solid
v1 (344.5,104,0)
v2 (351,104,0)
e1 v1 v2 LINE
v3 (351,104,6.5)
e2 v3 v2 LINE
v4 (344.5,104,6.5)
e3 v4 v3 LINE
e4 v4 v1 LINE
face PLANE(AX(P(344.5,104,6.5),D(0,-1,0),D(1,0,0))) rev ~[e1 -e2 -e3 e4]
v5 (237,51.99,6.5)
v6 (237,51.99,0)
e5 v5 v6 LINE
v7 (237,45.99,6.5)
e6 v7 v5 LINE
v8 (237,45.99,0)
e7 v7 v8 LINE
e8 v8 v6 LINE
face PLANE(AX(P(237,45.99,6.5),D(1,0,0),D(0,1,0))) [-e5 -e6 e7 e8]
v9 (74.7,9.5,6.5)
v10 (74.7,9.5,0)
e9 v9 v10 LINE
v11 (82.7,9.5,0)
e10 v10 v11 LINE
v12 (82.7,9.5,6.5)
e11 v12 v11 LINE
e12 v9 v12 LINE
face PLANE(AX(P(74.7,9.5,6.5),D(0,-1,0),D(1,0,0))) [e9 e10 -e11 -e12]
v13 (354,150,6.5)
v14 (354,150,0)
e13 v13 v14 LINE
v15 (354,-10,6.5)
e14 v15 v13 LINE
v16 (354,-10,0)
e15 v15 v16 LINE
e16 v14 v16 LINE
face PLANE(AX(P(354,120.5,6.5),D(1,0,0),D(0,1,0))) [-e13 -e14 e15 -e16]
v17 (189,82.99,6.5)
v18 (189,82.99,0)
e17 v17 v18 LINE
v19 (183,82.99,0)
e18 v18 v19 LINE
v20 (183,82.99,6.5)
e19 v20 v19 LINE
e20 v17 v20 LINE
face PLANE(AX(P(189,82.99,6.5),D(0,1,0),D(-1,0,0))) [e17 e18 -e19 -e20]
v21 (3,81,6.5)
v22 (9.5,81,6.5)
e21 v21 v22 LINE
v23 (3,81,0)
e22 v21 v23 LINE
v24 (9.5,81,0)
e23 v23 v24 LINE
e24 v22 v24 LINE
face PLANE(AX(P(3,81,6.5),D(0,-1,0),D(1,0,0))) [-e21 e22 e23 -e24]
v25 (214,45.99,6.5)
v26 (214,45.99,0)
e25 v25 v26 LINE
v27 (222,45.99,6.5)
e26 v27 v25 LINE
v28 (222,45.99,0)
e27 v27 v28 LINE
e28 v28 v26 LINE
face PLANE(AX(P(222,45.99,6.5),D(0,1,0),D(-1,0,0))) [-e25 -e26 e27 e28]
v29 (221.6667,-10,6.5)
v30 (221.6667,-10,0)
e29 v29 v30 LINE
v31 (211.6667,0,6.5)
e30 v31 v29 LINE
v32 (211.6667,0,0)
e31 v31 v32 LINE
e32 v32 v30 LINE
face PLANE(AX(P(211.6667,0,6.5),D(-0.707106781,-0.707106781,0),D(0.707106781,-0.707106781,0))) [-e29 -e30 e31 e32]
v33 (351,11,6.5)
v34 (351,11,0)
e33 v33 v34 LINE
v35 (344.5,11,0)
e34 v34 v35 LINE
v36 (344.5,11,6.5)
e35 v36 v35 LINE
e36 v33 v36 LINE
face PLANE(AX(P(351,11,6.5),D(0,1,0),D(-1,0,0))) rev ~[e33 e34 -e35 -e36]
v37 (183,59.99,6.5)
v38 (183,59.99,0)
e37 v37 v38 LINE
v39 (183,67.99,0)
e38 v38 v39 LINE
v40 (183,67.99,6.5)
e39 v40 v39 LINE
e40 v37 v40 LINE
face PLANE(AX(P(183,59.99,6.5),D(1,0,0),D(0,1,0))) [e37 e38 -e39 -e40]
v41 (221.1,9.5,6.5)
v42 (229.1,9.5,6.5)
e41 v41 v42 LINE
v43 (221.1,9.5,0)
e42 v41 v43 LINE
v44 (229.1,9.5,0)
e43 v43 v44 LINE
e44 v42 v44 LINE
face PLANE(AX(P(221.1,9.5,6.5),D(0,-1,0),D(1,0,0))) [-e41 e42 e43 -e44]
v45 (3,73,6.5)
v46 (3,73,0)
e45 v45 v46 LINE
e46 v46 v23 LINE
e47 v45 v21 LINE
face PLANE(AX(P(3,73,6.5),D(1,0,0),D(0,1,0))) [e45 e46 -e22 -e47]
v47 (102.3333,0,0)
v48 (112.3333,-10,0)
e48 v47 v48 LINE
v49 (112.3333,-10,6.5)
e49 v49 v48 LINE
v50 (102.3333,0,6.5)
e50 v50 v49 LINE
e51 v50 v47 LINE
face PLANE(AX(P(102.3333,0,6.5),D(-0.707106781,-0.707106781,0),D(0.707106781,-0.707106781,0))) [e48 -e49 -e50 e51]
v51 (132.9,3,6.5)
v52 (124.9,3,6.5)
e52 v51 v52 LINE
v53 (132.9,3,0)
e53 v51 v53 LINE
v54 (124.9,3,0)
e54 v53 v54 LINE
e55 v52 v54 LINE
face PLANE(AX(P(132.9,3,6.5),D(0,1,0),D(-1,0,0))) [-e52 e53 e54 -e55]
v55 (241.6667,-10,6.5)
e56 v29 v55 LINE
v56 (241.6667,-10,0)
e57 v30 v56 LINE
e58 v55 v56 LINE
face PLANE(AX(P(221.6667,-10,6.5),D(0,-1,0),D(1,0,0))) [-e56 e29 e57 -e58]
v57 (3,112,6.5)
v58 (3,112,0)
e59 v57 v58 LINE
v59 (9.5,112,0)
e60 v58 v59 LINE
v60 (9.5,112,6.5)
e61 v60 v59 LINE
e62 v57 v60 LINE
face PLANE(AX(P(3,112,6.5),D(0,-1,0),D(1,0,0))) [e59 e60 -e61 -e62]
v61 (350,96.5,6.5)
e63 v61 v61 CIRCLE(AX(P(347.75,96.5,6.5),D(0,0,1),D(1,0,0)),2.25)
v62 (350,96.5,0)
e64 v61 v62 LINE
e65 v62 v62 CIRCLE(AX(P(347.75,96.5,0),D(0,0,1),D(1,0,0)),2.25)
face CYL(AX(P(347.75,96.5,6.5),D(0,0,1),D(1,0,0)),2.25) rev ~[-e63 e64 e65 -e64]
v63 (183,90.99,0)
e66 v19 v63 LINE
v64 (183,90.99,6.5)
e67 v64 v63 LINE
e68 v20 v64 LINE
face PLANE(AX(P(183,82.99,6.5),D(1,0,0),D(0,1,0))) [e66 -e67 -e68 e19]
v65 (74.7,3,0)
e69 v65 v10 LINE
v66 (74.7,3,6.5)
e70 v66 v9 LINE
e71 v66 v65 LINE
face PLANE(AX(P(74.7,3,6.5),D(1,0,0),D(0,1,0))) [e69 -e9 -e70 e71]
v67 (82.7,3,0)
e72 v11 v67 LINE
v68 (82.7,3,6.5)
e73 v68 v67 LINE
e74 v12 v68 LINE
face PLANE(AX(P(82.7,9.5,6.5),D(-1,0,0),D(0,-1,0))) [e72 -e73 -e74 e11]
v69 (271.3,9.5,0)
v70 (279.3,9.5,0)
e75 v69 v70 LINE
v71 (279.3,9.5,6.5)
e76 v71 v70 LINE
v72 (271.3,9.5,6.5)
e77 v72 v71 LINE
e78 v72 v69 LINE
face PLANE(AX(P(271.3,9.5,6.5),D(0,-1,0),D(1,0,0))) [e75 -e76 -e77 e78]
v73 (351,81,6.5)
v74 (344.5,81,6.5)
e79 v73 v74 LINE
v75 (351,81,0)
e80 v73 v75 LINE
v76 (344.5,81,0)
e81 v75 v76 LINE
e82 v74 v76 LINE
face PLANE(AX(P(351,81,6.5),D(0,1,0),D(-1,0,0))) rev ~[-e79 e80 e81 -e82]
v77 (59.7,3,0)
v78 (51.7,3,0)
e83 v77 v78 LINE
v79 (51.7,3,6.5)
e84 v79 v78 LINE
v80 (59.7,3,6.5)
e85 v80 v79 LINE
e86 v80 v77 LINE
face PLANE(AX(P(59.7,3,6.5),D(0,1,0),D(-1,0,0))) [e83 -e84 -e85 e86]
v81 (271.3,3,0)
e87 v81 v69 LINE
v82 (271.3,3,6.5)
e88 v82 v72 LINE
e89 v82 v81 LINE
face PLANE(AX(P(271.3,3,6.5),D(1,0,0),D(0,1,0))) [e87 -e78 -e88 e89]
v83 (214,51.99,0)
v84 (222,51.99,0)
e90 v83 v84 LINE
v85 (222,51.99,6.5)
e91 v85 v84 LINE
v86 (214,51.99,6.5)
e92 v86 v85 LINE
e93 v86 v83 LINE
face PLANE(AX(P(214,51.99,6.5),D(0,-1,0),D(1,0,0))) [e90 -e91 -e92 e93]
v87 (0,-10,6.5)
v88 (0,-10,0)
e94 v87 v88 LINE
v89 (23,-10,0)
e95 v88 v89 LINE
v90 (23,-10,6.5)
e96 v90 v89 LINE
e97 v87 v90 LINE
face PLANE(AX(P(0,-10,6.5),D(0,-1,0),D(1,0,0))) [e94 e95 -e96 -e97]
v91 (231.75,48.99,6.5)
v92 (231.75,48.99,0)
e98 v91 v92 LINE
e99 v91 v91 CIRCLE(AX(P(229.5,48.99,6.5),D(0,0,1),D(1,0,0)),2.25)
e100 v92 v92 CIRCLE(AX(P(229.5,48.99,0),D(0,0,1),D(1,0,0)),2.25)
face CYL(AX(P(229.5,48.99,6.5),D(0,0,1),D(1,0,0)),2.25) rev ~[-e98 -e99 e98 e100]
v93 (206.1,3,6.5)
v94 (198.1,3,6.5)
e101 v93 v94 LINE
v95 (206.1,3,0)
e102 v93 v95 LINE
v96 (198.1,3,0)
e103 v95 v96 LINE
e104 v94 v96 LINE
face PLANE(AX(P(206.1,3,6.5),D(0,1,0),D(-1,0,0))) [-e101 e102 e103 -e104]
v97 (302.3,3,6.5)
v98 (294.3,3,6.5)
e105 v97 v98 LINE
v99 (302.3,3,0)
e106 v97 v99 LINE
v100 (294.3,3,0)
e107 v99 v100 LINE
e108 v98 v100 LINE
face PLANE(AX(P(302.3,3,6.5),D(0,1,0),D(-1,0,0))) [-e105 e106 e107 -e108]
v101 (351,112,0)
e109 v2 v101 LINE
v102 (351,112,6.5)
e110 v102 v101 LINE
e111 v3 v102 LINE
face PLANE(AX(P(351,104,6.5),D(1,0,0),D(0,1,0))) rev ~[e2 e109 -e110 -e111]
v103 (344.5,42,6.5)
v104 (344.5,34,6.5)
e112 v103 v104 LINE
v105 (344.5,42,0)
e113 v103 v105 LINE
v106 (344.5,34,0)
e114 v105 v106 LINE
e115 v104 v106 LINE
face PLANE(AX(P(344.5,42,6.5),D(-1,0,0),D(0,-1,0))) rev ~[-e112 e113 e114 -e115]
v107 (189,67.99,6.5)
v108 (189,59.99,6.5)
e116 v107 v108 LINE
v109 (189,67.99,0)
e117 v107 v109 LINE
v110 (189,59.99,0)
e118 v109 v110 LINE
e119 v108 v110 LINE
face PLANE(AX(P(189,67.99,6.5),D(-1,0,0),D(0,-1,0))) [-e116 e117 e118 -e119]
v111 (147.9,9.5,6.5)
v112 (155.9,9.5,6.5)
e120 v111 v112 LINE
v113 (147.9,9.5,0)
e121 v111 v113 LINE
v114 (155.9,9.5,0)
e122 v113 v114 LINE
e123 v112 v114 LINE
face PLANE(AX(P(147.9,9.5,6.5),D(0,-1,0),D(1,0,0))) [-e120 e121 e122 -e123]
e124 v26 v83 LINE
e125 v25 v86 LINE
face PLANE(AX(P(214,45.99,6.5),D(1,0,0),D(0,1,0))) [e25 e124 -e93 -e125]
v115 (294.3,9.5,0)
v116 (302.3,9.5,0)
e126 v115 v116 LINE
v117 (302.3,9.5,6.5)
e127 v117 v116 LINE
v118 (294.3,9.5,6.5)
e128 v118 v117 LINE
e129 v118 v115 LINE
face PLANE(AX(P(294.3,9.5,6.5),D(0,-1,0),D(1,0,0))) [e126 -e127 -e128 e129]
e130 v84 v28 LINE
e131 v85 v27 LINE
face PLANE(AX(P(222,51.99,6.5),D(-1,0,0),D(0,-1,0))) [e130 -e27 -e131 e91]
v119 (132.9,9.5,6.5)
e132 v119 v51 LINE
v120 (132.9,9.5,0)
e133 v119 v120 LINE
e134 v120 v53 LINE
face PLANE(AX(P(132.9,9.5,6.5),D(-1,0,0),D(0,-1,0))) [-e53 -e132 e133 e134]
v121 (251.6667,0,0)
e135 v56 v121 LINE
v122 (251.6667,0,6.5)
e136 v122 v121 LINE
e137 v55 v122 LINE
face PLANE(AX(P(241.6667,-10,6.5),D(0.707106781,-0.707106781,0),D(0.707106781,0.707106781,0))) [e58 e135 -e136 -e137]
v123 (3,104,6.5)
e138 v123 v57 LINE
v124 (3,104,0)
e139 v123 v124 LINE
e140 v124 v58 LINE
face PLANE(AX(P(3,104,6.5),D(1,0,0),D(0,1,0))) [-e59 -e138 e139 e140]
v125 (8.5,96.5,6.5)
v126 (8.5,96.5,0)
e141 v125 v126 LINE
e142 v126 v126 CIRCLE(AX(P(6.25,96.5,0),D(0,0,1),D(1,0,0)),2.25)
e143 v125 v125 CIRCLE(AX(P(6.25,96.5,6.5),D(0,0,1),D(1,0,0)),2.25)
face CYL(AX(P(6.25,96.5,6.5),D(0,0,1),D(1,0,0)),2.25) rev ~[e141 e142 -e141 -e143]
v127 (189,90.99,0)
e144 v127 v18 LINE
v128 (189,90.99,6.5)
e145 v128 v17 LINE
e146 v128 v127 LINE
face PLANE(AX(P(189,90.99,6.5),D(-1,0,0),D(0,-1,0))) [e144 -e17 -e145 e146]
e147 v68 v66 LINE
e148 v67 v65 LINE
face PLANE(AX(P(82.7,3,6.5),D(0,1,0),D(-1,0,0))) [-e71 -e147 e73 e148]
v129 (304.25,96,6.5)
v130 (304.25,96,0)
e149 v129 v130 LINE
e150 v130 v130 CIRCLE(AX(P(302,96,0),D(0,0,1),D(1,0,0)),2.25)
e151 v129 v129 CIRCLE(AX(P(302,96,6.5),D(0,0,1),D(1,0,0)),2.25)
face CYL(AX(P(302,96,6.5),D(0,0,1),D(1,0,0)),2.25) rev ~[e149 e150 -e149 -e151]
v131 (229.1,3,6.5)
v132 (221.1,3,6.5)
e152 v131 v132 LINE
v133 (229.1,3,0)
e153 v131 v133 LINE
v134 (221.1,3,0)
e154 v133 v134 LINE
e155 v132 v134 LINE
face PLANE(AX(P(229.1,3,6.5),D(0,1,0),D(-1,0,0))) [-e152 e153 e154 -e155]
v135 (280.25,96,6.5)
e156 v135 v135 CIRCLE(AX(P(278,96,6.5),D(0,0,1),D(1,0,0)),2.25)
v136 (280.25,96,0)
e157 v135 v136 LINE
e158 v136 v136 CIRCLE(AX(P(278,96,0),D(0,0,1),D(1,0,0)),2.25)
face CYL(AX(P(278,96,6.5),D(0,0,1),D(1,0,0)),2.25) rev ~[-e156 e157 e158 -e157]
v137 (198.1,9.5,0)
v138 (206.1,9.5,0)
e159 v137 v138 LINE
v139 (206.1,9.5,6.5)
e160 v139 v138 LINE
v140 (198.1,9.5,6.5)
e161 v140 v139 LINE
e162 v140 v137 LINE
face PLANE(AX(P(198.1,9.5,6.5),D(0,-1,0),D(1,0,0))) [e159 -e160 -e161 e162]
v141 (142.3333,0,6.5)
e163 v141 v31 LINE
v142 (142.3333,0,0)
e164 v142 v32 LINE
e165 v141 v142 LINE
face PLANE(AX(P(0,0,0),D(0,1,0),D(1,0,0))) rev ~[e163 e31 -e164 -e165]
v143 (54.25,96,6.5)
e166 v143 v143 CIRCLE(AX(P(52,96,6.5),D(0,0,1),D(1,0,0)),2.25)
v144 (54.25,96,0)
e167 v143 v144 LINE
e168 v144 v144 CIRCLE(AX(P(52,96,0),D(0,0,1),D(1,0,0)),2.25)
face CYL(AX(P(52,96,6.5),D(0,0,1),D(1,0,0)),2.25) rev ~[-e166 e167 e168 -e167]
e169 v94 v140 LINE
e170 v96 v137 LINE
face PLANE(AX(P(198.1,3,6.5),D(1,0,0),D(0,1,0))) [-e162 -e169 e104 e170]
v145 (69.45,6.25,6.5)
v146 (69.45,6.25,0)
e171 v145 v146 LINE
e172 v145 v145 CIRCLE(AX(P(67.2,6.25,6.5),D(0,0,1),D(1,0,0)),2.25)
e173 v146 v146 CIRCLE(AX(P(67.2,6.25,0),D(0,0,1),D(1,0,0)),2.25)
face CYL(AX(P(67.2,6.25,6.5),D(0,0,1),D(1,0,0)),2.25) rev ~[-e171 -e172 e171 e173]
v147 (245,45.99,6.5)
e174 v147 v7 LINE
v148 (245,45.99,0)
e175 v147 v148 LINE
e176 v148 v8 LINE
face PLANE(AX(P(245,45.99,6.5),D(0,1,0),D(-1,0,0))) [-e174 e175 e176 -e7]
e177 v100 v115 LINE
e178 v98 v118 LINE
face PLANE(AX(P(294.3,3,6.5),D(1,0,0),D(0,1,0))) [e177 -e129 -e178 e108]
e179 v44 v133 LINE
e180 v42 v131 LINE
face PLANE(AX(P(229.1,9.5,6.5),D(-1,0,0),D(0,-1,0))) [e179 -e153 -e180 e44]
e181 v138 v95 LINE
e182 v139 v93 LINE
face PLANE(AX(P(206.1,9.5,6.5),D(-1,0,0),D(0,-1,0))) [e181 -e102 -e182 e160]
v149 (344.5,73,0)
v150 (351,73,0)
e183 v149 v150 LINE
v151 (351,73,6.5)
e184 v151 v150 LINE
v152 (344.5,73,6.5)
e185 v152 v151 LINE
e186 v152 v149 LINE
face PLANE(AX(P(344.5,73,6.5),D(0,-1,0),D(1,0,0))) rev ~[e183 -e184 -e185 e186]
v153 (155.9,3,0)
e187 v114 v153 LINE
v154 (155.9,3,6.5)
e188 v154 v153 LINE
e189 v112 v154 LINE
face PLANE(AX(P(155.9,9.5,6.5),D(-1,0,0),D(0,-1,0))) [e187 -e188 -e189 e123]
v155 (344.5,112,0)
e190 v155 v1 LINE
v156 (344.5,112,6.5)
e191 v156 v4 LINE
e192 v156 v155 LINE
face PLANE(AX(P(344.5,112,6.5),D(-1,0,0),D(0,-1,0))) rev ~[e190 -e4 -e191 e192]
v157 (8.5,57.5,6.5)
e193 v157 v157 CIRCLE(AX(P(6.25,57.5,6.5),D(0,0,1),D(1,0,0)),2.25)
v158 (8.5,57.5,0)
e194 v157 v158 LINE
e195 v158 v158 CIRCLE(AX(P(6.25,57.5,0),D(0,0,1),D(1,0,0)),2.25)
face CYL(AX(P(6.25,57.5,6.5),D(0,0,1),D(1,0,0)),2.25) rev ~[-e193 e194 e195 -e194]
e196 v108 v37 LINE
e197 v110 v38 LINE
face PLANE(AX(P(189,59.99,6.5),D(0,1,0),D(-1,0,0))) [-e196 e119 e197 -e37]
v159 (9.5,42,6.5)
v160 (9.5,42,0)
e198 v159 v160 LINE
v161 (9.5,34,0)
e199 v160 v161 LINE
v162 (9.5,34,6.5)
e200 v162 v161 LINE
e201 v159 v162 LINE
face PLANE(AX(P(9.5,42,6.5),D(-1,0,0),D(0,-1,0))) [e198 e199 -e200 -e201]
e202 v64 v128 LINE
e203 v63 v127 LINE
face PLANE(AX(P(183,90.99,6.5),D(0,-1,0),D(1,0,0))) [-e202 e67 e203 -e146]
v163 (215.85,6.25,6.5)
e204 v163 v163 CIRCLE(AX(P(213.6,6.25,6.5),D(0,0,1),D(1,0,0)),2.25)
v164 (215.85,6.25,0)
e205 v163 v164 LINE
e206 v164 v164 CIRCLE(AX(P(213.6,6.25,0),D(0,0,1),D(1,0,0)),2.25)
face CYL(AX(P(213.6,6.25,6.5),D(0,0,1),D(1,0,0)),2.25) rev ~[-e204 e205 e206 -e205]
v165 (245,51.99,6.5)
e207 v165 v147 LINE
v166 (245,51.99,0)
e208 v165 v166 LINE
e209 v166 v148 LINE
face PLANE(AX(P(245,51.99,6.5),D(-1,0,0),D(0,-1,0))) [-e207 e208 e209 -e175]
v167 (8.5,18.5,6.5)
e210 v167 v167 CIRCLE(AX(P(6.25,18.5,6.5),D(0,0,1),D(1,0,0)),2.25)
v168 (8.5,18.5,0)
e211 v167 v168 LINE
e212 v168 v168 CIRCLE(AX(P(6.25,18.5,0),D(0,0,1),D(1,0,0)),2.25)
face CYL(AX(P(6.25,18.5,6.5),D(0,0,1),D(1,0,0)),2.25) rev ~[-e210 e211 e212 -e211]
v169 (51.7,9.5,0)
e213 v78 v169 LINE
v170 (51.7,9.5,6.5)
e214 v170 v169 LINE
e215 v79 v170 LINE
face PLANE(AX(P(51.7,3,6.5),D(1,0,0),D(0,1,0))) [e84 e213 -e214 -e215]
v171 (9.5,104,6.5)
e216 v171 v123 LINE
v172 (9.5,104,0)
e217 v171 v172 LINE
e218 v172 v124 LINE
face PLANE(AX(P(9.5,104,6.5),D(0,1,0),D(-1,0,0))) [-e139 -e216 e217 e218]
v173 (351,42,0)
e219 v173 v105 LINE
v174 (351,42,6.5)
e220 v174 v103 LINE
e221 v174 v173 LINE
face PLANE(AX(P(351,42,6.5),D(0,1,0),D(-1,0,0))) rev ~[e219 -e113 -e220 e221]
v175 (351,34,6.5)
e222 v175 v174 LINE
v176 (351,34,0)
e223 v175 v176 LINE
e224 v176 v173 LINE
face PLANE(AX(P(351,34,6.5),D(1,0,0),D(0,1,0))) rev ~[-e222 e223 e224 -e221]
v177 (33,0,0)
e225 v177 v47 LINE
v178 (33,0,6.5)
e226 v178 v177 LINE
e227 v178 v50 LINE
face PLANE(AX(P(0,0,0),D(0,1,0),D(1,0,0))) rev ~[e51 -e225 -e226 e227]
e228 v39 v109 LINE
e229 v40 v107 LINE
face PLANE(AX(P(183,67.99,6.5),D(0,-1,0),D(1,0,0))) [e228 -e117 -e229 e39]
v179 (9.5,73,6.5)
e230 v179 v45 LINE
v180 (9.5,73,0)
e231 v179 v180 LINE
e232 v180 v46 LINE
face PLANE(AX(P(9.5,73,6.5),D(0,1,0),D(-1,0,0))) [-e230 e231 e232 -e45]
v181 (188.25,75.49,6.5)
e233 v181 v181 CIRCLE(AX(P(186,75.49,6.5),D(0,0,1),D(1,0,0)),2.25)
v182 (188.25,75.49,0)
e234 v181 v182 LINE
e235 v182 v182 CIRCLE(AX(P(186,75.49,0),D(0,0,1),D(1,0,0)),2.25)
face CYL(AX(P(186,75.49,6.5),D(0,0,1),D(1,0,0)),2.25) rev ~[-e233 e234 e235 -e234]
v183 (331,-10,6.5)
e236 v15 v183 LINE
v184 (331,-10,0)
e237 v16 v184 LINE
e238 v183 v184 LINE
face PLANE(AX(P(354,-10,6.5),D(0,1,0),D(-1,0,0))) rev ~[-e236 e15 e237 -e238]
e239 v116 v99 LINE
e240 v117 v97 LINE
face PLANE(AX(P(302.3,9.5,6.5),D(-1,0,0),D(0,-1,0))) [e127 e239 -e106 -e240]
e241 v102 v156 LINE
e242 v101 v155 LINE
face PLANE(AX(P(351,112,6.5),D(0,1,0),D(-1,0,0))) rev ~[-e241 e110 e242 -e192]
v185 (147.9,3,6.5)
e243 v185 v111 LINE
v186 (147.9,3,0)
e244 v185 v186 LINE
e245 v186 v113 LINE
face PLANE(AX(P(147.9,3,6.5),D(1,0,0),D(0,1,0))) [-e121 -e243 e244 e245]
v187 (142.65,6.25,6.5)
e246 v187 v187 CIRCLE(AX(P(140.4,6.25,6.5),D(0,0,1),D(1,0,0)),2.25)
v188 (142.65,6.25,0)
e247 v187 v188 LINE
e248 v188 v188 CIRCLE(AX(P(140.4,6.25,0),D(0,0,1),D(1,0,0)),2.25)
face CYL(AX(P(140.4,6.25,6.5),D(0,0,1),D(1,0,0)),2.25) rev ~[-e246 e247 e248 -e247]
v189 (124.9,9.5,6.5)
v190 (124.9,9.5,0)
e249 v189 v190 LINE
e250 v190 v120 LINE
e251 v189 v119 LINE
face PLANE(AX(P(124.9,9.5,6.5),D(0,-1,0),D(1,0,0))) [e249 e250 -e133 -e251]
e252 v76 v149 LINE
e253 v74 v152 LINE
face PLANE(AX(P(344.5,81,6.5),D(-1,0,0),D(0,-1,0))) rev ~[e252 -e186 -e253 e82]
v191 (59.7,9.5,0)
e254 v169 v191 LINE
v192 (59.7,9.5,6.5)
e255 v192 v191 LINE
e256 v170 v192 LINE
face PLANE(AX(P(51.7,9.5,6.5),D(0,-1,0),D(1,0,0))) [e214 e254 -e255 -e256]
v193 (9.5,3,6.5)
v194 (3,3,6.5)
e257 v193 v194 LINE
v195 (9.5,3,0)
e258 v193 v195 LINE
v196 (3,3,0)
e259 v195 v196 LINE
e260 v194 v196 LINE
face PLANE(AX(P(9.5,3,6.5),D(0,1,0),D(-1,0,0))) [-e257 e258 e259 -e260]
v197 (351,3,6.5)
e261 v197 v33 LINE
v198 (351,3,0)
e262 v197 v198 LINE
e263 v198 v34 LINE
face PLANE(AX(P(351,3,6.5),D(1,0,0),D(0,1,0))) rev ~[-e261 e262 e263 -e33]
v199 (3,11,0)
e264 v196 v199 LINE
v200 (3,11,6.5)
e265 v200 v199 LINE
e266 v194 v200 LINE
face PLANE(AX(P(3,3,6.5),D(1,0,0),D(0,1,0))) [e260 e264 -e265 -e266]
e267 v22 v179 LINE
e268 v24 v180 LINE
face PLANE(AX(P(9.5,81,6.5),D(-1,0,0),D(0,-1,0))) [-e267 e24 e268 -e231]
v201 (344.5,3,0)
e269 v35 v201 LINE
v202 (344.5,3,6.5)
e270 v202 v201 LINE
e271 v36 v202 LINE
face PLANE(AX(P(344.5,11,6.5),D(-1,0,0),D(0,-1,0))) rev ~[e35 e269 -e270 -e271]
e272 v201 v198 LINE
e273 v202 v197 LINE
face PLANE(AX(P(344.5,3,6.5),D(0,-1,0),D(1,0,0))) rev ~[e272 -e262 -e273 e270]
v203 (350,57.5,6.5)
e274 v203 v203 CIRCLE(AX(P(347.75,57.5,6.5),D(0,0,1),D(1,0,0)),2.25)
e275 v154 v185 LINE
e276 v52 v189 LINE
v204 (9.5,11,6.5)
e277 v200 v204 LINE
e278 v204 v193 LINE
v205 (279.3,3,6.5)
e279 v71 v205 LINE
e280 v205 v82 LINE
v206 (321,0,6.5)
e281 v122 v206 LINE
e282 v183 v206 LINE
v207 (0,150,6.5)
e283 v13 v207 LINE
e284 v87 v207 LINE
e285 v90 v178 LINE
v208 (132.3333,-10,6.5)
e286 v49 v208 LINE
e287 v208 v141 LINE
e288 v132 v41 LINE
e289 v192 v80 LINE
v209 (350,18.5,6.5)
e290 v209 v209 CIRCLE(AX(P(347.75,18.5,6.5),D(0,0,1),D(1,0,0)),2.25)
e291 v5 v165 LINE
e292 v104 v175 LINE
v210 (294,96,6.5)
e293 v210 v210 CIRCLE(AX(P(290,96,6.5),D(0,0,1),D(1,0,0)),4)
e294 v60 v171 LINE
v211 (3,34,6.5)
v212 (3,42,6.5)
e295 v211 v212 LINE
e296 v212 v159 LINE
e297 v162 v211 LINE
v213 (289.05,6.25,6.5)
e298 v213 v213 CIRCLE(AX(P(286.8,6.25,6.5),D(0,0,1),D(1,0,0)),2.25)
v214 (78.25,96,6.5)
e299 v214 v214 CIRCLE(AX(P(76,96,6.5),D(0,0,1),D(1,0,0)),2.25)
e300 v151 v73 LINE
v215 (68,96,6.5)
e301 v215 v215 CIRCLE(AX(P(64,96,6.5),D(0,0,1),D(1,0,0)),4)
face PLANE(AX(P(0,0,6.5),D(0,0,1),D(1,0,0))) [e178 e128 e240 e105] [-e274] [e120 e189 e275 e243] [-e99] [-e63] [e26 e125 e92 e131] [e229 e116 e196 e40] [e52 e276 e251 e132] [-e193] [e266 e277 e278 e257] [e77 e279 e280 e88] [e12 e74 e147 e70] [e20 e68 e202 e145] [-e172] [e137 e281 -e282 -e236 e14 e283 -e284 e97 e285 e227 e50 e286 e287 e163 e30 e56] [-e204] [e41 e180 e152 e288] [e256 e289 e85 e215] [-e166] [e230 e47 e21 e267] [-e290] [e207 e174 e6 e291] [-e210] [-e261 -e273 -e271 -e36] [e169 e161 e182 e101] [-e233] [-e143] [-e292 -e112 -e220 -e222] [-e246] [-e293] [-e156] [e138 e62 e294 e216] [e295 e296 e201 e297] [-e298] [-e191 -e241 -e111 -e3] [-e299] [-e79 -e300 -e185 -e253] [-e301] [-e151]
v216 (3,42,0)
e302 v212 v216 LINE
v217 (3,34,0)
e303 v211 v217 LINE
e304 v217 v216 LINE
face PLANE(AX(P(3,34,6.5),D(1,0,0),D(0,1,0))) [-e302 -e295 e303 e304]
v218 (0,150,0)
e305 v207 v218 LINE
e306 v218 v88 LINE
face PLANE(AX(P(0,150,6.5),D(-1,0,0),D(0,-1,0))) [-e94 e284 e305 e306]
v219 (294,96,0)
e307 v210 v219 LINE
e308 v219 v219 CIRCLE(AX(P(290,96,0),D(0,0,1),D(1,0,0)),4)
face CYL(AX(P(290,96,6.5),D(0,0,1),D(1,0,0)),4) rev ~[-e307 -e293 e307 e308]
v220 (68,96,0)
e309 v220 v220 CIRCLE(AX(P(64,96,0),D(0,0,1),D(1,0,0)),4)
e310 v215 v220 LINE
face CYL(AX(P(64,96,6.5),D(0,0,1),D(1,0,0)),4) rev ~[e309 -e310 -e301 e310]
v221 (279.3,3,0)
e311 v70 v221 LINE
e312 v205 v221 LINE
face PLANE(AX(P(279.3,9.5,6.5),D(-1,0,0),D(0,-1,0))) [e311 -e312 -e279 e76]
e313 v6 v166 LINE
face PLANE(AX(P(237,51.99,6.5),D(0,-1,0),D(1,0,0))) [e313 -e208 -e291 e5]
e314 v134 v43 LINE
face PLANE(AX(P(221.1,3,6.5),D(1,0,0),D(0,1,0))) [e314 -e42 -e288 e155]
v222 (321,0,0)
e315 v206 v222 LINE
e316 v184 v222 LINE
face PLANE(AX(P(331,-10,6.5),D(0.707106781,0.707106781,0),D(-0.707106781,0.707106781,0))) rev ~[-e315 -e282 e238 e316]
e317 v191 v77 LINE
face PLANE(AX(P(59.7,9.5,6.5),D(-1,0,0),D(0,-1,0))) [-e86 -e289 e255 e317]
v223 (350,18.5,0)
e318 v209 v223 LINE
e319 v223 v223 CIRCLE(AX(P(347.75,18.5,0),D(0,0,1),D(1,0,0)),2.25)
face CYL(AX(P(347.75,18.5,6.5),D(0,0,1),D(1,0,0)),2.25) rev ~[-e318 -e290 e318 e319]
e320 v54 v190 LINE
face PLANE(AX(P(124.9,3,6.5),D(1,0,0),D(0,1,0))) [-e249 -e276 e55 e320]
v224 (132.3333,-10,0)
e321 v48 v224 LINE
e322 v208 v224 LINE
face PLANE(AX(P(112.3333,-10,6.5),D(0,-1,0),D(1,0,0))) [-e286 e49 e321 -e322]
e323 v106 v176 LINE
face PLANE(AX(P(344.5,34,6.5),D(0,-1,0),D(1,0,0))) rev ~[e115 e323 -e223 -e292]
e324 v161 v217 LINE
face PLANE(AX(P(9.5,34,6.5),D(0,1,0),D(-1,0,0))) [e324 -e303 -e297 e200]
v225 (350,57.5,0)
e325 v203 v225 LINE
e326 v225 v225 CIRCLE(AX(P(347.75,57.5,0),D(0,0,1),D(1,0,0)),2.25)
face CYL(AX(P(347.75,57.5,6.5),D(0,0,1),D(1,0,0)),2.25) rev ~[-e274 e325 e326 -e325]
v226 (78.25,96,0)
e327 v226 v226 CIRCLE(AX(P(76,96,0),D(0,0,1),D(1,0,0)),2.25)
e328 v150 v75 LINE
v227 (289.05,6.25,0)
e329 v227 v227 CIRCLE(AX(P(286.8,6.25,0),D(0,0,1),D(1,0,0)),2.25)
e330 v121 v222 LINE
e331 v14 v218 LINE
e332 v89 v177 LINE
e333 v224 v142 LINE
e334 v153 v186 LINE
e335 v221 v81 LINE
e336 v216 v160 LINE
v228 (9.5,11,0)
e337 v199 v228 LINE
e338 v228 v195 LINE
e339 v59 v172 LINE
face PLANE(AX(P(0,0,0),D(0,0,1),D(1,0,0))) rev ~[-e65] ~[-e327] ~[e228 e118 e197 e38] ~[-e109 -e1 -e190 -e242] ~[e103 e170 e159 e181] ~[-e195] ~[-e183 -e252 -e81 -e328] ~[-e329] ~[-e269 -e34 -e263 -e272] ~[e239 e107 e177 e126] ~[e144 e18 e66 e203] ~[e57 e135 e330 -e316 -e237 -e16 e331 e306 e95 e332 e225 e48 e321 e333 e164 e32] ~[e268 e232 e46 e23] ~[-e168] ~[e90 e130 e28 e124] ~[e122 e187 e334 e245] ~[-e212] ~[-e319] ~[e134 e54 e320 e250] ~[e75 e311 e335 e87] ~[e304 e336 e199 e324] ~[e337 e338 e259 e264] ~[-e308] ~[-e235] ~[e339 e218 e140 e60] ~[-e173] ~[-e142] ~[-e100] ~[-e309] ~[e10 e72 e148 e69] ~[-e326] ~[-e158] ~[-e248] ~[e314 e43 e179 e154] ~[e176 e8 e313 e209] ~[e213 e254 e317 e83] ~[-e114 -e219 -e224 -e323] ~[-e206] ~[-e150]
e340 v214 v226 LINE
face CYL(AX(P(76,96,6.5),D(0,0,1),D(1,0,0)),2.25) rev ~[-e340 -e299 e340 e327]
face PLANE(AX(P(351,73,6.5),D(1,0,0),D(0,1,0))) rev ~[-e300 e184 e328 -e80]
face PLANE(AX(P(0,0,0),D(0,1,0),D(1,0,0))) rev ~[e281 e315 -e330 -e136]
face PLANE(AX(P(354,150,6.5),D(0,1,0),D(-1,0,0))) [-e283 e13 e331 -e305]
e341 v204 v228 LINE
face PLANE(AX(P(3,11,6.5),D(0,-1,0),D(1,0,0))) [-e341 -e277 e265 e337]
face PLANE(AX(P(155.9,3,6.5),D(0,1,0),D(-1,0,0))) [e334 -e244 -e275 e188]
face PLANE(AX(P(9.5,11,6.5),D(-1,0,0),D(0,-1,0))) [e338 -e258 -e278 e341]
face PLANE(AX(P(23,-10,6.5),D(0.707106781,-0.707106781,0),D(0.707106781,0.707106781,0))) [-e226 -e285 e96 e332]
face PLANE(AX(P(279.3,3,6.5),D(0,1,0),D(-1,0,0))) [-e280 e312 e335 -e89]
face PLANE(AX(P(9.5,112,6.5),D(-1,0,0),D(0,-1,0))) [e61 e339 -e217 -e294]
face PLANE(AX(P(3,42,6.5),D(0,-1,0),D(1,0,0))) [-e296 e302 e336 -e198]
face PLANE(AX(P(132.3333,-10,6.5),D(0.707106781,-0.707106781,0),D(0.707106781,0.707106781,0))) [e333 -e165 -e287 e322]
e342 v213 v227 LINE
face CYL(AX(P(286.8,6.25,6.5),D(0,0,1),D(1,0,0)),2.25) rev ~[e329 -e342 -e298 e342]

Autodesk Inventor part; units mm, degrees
ref_plane "YZ Plane" through (0, 0, 0) normal (1, 0, 0) x (0, 1, 0)
ref_plane "XZ Plane" through (0, 0, 0) normal (0, 1, 0) x (-1, 0, 0)
ref_plane "XY Plane" through (0, 0, 0) normal (0, 0, 1) x (1, 0, 0)
sketch "Sketch1" plane through (0, 0, 0) normal (0, 0, 1) x (1, 0, 0)
  line L0 (0, 0) -> (354, 0)
  line L1 (354, 0) -> (354, 120.5)
  line L2 (354, 120.5) -> (0, 120.5)
  line L3 (0, 120.5) -> (0, 0)
  dimension "d0" = 120.5
  dimension "d1" = 354
extrude "Extrusion1" add sketch "Sketch1" along normal blind 6.5
sketch "Sketch3" plane through (0, 0, 6.5) normal (0, 0, 1) x (1, 0, 0)
  line L0 (0, 0) -> (354, 0) projected
  line L1 (354, 120.5) -> (0, 120.5) projected
  line L2 (0, 120.5) -> (0, 0) projected
  circle A0 centre (64, 96) radius 4
  circle A1 centre (290, 96) radius 4
  line L3 (64, 96) -> (290, 96) construction
  point P0 (177, 96)
  point P1 (177, 120.5)
  dimension "d9" = 8
  dimension "d10" = 96
  dimension "d11" = 226
extrude "Extrusion3" cut sketch "Sketch3" against normal through all
sketch "Sketch4" plane through (0, 0, 6.5) normal (0, 0, 1) x (1, 0, 0)
  line L0 (0, 0) -> (354, 0) projected
  line L1 (354, 120.5) -> (0, 120.5) projected
  line L2 (0, 120.5) -> (0, 0) projected
  circle A0 centre (6.25, 18.5) radius 2.25
  circle A1 centre (6.25, 57.5) radius 2.25
  circle A2 centre (6.25, 96.5) radius 2.25
  line L3 (177, 120.5) -> (177, 0) construction
  line L4 (3, 112) -> (9.5, 112)
  line L5 (9.5, 112) -> (9.5, 104)
  line L6 (9.5, 104) -> (3, 104)
  line L7 (3, 104) -> (3, 112)
  line L8 (3, 81) -> (9.5, 81)
  line L9 (9.5, 81) -> (9.5, 73)
  line L10 (9.5, 73) -> (3, 73)
  line L11 (3, 73) -> (3, 81)
  line L12 (3, 42) -> (9.5, 42)
  line L13 (9.5, 42) -> (9.5, 34)
  line L14 (9.5, 34) -> (3, 34)
  line L15 (3, 34) -> (3, 42)
  line L16 (3, 11) -> (9.5, 11)
  line L17 (9.5, 11) -> (9.5, 3)
  line L18 (9.5, 3) -> (3, 3)
  line L19 (3, 3) -> (3, 11)
  line L20 (6.25, 18.5) -> (6.25, 57.5) construction
  line L21 (6.25, 57.5) -> (6.25, 96.5) construction
  circle A3 centre (347.75, 18.5) radius 2.25
  circle A4 centre (347.75, 57.5) radius 2.25
  circle A5 centre (347.75, 96.5) radius 2.25
  line L22 (351, 112) -> (344.5, 112)
  line L23 (344.5, 112) -> (344.5, 104)
  line L24 (344.5, 104) -> (351, 104)
  line L25 (351, 104) -> (351, 112)
  line L26 (351, 81) -> (344.5, 81)
  line L27 (344.5, 81) -> (344.5, 73)
  line L28 (344.5, 73) -> (351, 73)
  line L29 (351, 73) -> (351, 81)
  line L30 (351, 42) -> (344.5, 42)
  line L31 (344.5, 42) -> (344.5, 34)
  line L32 (344.5, 34) -> (351, 34)
  line L33 (351, 34) -> (351, 42)
  line L34 (351, 11) -> (344.5, 11)
  line L35 (344.5, 11) -> (344.5, 3)
  line L36 (344.5, 3) -> (351, 3)
  line L37 (351, 3) -> (351, 11)
  line L38 (347.75, 18.5) -> (347.75, 57.5) construction
  line L39 (347.75, 57.5) -> (347.75, 96.5) construction
  point P0 (6.25, 104)
  point P1 (3, 38)
  point P2 (6.25, 38)
  point P3 (3, 77)
  point P4 (6.25, 77)
  point P5 (347.75, 104)
  point P6 (351, 38)
  point P7 (347.75, 38)
  point P8 (351, 77)
  point P9 (347.75, 77)
  dimension "d14" = 18.5
  dimension "d15" = 39
  dimension "d16" = 39
  dimension "d17" = 4.5
  dimension "d18" = 6.5
  dimension "d19" = 8
  dimension "d20" = 8
  dimension "d21" = 8
  dimension "d22" = 8
  dimension "d23" = 3
  dimension "d27" = 23
  dimension "d28" = 3
extrude "Extrusion4" cut sketch "Sketch4" against normal through all
sketch "Sketch5" plane through (0, 0, 6.5) normal (0, 0, 1) x (1, 0, 0)
  line L0 (0, 0) -> (354, 0) projected
  line L1 (51.7, 9.5) -> (59.7, 9.5)
  line L2 (59.7, 9.5) -> (59.7, 3)
  line L3 (59.7, 3) -> (51.7, 3)
  line L4 (51.7, 3) -> (51.7, 9.5)
  line L5 (74.7, 9.5) -> (82.7, 9.5)
  line L6 (82.7, 9.5) -> (82.7, 3)
  line L7 (82.7, 3) -> (74.7, 3)
  line L8 (74.7, 3) -> (74.7, 9.5)
  line L9 (59.7, 9.5) -> (74.7, 3) construction
  line L10 (74.7, 9.5) -> (59.7, 3) construction
  circle A0 centre (67.2, 6.25) radius 2.25
  line L11 (124.9, 9.5) -> (132.9, 9.5)
  line L12 (132.9, 9.5) -> (132.9, 3)
  line L13 (132.9, 3) -> (124.9, 3)
  line L14 (124.9, 3) -> (124.9, 9.5)
  line L15 (147.9, 9.5) -> (155.9, 9.5)
  line L16 (155.9, 9.5) -> (155.9, 3)
  line L17 (155.9, 3) -> (147.9, 3)
  line L18 (147.9, 3) -> (147.9, 9.5)
  line L19 (132.9, 9.5) -> (147.9, 3) construction
  line L20 (147.9, 9.5) -> (132.9, 3) construction
  circle A1 centre (140.4, 6.25) radius 2.25
  line L21 (198.1, 9.5) -> (206.1, 9.5)
  line L22 (206.1, 9.5) -> (206.1, 3)
  line L23 (206.1, 3) -> (198.1, 3)
  line L24 (198.1, 3) -> (198.1, 9.5)
  line L25 (221.1, 9.5) -> (229.1, 9.5)
  line L26 (229.1, 9.5) -> (229.1, 3)
  line L27 (229.1, 3) -> (221.1, 3)
  line L28 (221.1, 3) -> (221.1, 9.5)
  line L29 (206.1, 9.5) -> (221.1, 3) construction
  line L30 (221.1, 9.5) -> (206.1, 3) construction
  circle A2 centre (213.6, 6.25) radius 2.25
  line L31 (271.3, 9.5) -> (279.3, 9.5)
  line L32 (279.3, 9.5) -> (279.3, 3)
  line L33 (279.3, 3) -> (271.3, 3)
  line L34 (271.3, 3) -> (271.3, 9.5)
  line L35 (294.3, 9.5) -> (302.3, 9.5)
  line L36 (302.3, 9.5) -> (302.3, 3)
  line L37 (302.3, 3) -> (294.3, 3)
  line L38 (294.3, 3) -> (294.3, 9.5)
  line L39 (279.3, 9.5) -> (294.3, 3) construction
  line L40 (294.3, 9.5) -> (279.3, 3) construction
  circle A3 centre (286.8, 6.25) radius 2.25
  line L41 (51.7, 6.25) -> (9.5, 6.25) construction
  line L42 (82.7, 6.25) -> (124.9, 6.25) construction
  line L43 (155.9, 6.25) -> (198.1, 6.25) construction
  line L44 (229.1, 6.25) -> (271.3, 6.25) construction
  line L45 (302.3, 6.25) -> (344.5, 6.25) construction
  point P0 (9.5, 3)
  point P1 (344.5, 3)
  point P2 (286.8, 6.25)
  dimension "d31" = 8
  dimension "d32" = 6.5
  dimension "d33" = 8
  dimension "d34" = 15
  dimension "d35" = 4.5
  dimension "d36" = 8
  dimension "d37" = 6.5
  dimension "d38" = 8
  dimension "d39" = 15
  dimension "d40" = 4.5
  dimension "d41" = 8
  dimension "d42" = 6.5
  dimension "d43" = 8
  dimension "d44" = 15
  dimension "d45" = 4.5
  dimension "d46" = 8
  dimension "d47" = 6.5
  dimension "d48" = 8
  dimension "d49" = 15
  dimension "d50" = 4.5
  dimension "d51" = 3
extrude "Extrusion5" cut sketch "Sketch5" against normal through all
sketch "Sketch6" plane through (0, 0, 6.5) normal (0, 0, 1) x (1, 0, 0)
  line L0 (0, 0) -> (354, 0) projected
  line L1 (0, 120.5) -> (0, 0) projected
  line L2 (0, 0) -> (0, -10)
  line L3 (0, -10) -> (23, -10)
  line L4 (23, -10) -> (33, 0)
  line L5 (102.3333, 0) -> (112.3333, -10)
  line L6 (112.3333, -10) -> (132.3333, -10)
  line L7 (132.3333, -10) -> (142.3333, 0)
  line L8 (211.6667, 0) -> (221.6667, -10)
  line L9 (221.6667, -10) -> (241.6667, -10)
  line L10 (241.6667, -10) -> (251.6667, 0)
  line L11 (354, 0) -> (354, -10)
  line L12 (354, -10) -> (331, -10)
  line L13 (331, -10) -> (321, 0)
  line L14 (23, -10) -> (112.3333, -10) construction
  line L15 (132.3333, -10) -> (221.6667, -10) construction
  line L16 (241.6667, -10) -> (331, -10) construction
  dimension "d54" = 20
  dimension "d55" = 23
  dimension "d56" = 45
  dimension "d57" = 10
extrude "Extrusion6" add sketch "Sketch6" against normal blind 6.5
sketch "Sketch7" plane through (0, 0, 6.5) normal (0, 0, 1) x (1, 0, 0)
  line L0 (147.9, 9.5) -> (155.9, 9.5) projected
  line L1 (354, 120.5) -> (0, 120.5) projected
  line L2 (174, 81.6) -> (180, 81.6) construction
  line L3 (180, 81.6) -> (180, 69.38) construction
  line L4 (180, 69.38) -> (174, 69.38) construction
  line L5 (174, 69.38) -> (174, 81.6) construction
  line L6 (183, 90.99) -> (189, 90.99)
  line L7 (189, 90.99) -> (189, 82.99)
  line L8 (189, 82.99) -> (183, 82.99)
  line L9 (183, 82.99) -> (183, 90.99)
  line L10 (183, 67.99) -> (189, 67.99)
  line L11 (189, 67.99) -> (189, 59.99)
  line L12 (189, 59.99) -> (183, 59.99)
  line L13 (183, 59.99) -> (183, 67.99)
  line L14 (183, 82.99) -> (189, 67.99) construction
  line L15 (183, 67.99) -> (189, 82.99) construction
  circle A0 centre (186, 75.49) radius 2.25
  line L16 (214, 51.99) -> (222, 51.99)
  line L17 (222, 51.99) -> (222, 45.99)
  line L18 (222, 45.99) -> (214, 45.99)
  line L19 (214, 45.99) -> (214, 51.99)
  line L20 (237, 51.99) -> (245, 51.99)
  line L21 (245, 51.99) -> (245, 45.99)
  line L22 (245, 45.99) -> (237, 45.99)
  line L23 (237, 45.99) -> (237, 51.99)
  line L24 (222, 45.99) -> (237, 51.99) construction
  line L25 (222, 51.99) -> (237, 45.99) construction
  circle A1 centre (229.5, 48.99) radius 2.25
  point P0 (0, 0)
  point P1 (186, 75.49)
  point P2 (180, 75.49)
  point P3 (177, 81.6)
  point P4 (177, 120.5)
  dimension "d60" = 12.22
  dimension "d61" = 6
  dimension "d62" = 72.1
  dimension "d63" = 6
  dimension "d64" = 8
  dimension "d65" = 15
  dimension "d66" = 4.5
  dimension "d67" = 3
  dimension "d68" = 8
  dimension "d69" = 8
  dimension "d70" = 8
  dimension "d71" = 6
  dimension "d72" = 25
  dimension "d73" = 15
  dimension "d74" = 8
extrude "Extrusion7" cut sketch "Sketch7" against normal through all
sketch "Sketch8" plane through (0, 0, 6.5) normal (0, 0, 1) x (1, 0, 0)
  line L0 (214, 51.99) -> (222, 51.99) projected
  circle A0 centre (64, 96) radius 4 projected
  circle A1 centre (290, 96) radius 4 projected
  line L1 (0, -10) -> (23, -10) projected
  circle A2 centre (52, 96) radius 2.25
  circle A3 centre (76, 96) radius 2.25
  circle A4 centre (278, 96) radius 2.25
  circle A5 centre (302, 96) radius 2.25
  line L2 (52, 96) -> (76, 96) construction
  line L3 (278, 96) -> (302, 96) construction
  point P0 (0, 0)
  dimension "d77" = 24
  dimension "d78" = 4.5
extrude "Extrusion8" cut sketch "Sketch8" against normal through all contours A2 | A3 | A4 | A5
sketch "Sketch13" plane through (0, 0, 6.5) normal (0, 0, 1) x (1, 0, 0)
  line L0 (0, 120.5) -> (354, 120.5)
  line L1 (354, 120.5) -> (354, 150)
  line L2 (354, 150) -> (0, 150)
  line L3 (0, 150) -> (0, 120.5)
  point P0 (0, 0)
  dimension "d121" = 29.5
extrude "Extrusion13" add sketch "Sketch13" against normal blind 6.5
equation "\"d37\" = d32"
equation "\"d42\" = d37"
equation "\"d47\" = d42"
properties part number "front"
